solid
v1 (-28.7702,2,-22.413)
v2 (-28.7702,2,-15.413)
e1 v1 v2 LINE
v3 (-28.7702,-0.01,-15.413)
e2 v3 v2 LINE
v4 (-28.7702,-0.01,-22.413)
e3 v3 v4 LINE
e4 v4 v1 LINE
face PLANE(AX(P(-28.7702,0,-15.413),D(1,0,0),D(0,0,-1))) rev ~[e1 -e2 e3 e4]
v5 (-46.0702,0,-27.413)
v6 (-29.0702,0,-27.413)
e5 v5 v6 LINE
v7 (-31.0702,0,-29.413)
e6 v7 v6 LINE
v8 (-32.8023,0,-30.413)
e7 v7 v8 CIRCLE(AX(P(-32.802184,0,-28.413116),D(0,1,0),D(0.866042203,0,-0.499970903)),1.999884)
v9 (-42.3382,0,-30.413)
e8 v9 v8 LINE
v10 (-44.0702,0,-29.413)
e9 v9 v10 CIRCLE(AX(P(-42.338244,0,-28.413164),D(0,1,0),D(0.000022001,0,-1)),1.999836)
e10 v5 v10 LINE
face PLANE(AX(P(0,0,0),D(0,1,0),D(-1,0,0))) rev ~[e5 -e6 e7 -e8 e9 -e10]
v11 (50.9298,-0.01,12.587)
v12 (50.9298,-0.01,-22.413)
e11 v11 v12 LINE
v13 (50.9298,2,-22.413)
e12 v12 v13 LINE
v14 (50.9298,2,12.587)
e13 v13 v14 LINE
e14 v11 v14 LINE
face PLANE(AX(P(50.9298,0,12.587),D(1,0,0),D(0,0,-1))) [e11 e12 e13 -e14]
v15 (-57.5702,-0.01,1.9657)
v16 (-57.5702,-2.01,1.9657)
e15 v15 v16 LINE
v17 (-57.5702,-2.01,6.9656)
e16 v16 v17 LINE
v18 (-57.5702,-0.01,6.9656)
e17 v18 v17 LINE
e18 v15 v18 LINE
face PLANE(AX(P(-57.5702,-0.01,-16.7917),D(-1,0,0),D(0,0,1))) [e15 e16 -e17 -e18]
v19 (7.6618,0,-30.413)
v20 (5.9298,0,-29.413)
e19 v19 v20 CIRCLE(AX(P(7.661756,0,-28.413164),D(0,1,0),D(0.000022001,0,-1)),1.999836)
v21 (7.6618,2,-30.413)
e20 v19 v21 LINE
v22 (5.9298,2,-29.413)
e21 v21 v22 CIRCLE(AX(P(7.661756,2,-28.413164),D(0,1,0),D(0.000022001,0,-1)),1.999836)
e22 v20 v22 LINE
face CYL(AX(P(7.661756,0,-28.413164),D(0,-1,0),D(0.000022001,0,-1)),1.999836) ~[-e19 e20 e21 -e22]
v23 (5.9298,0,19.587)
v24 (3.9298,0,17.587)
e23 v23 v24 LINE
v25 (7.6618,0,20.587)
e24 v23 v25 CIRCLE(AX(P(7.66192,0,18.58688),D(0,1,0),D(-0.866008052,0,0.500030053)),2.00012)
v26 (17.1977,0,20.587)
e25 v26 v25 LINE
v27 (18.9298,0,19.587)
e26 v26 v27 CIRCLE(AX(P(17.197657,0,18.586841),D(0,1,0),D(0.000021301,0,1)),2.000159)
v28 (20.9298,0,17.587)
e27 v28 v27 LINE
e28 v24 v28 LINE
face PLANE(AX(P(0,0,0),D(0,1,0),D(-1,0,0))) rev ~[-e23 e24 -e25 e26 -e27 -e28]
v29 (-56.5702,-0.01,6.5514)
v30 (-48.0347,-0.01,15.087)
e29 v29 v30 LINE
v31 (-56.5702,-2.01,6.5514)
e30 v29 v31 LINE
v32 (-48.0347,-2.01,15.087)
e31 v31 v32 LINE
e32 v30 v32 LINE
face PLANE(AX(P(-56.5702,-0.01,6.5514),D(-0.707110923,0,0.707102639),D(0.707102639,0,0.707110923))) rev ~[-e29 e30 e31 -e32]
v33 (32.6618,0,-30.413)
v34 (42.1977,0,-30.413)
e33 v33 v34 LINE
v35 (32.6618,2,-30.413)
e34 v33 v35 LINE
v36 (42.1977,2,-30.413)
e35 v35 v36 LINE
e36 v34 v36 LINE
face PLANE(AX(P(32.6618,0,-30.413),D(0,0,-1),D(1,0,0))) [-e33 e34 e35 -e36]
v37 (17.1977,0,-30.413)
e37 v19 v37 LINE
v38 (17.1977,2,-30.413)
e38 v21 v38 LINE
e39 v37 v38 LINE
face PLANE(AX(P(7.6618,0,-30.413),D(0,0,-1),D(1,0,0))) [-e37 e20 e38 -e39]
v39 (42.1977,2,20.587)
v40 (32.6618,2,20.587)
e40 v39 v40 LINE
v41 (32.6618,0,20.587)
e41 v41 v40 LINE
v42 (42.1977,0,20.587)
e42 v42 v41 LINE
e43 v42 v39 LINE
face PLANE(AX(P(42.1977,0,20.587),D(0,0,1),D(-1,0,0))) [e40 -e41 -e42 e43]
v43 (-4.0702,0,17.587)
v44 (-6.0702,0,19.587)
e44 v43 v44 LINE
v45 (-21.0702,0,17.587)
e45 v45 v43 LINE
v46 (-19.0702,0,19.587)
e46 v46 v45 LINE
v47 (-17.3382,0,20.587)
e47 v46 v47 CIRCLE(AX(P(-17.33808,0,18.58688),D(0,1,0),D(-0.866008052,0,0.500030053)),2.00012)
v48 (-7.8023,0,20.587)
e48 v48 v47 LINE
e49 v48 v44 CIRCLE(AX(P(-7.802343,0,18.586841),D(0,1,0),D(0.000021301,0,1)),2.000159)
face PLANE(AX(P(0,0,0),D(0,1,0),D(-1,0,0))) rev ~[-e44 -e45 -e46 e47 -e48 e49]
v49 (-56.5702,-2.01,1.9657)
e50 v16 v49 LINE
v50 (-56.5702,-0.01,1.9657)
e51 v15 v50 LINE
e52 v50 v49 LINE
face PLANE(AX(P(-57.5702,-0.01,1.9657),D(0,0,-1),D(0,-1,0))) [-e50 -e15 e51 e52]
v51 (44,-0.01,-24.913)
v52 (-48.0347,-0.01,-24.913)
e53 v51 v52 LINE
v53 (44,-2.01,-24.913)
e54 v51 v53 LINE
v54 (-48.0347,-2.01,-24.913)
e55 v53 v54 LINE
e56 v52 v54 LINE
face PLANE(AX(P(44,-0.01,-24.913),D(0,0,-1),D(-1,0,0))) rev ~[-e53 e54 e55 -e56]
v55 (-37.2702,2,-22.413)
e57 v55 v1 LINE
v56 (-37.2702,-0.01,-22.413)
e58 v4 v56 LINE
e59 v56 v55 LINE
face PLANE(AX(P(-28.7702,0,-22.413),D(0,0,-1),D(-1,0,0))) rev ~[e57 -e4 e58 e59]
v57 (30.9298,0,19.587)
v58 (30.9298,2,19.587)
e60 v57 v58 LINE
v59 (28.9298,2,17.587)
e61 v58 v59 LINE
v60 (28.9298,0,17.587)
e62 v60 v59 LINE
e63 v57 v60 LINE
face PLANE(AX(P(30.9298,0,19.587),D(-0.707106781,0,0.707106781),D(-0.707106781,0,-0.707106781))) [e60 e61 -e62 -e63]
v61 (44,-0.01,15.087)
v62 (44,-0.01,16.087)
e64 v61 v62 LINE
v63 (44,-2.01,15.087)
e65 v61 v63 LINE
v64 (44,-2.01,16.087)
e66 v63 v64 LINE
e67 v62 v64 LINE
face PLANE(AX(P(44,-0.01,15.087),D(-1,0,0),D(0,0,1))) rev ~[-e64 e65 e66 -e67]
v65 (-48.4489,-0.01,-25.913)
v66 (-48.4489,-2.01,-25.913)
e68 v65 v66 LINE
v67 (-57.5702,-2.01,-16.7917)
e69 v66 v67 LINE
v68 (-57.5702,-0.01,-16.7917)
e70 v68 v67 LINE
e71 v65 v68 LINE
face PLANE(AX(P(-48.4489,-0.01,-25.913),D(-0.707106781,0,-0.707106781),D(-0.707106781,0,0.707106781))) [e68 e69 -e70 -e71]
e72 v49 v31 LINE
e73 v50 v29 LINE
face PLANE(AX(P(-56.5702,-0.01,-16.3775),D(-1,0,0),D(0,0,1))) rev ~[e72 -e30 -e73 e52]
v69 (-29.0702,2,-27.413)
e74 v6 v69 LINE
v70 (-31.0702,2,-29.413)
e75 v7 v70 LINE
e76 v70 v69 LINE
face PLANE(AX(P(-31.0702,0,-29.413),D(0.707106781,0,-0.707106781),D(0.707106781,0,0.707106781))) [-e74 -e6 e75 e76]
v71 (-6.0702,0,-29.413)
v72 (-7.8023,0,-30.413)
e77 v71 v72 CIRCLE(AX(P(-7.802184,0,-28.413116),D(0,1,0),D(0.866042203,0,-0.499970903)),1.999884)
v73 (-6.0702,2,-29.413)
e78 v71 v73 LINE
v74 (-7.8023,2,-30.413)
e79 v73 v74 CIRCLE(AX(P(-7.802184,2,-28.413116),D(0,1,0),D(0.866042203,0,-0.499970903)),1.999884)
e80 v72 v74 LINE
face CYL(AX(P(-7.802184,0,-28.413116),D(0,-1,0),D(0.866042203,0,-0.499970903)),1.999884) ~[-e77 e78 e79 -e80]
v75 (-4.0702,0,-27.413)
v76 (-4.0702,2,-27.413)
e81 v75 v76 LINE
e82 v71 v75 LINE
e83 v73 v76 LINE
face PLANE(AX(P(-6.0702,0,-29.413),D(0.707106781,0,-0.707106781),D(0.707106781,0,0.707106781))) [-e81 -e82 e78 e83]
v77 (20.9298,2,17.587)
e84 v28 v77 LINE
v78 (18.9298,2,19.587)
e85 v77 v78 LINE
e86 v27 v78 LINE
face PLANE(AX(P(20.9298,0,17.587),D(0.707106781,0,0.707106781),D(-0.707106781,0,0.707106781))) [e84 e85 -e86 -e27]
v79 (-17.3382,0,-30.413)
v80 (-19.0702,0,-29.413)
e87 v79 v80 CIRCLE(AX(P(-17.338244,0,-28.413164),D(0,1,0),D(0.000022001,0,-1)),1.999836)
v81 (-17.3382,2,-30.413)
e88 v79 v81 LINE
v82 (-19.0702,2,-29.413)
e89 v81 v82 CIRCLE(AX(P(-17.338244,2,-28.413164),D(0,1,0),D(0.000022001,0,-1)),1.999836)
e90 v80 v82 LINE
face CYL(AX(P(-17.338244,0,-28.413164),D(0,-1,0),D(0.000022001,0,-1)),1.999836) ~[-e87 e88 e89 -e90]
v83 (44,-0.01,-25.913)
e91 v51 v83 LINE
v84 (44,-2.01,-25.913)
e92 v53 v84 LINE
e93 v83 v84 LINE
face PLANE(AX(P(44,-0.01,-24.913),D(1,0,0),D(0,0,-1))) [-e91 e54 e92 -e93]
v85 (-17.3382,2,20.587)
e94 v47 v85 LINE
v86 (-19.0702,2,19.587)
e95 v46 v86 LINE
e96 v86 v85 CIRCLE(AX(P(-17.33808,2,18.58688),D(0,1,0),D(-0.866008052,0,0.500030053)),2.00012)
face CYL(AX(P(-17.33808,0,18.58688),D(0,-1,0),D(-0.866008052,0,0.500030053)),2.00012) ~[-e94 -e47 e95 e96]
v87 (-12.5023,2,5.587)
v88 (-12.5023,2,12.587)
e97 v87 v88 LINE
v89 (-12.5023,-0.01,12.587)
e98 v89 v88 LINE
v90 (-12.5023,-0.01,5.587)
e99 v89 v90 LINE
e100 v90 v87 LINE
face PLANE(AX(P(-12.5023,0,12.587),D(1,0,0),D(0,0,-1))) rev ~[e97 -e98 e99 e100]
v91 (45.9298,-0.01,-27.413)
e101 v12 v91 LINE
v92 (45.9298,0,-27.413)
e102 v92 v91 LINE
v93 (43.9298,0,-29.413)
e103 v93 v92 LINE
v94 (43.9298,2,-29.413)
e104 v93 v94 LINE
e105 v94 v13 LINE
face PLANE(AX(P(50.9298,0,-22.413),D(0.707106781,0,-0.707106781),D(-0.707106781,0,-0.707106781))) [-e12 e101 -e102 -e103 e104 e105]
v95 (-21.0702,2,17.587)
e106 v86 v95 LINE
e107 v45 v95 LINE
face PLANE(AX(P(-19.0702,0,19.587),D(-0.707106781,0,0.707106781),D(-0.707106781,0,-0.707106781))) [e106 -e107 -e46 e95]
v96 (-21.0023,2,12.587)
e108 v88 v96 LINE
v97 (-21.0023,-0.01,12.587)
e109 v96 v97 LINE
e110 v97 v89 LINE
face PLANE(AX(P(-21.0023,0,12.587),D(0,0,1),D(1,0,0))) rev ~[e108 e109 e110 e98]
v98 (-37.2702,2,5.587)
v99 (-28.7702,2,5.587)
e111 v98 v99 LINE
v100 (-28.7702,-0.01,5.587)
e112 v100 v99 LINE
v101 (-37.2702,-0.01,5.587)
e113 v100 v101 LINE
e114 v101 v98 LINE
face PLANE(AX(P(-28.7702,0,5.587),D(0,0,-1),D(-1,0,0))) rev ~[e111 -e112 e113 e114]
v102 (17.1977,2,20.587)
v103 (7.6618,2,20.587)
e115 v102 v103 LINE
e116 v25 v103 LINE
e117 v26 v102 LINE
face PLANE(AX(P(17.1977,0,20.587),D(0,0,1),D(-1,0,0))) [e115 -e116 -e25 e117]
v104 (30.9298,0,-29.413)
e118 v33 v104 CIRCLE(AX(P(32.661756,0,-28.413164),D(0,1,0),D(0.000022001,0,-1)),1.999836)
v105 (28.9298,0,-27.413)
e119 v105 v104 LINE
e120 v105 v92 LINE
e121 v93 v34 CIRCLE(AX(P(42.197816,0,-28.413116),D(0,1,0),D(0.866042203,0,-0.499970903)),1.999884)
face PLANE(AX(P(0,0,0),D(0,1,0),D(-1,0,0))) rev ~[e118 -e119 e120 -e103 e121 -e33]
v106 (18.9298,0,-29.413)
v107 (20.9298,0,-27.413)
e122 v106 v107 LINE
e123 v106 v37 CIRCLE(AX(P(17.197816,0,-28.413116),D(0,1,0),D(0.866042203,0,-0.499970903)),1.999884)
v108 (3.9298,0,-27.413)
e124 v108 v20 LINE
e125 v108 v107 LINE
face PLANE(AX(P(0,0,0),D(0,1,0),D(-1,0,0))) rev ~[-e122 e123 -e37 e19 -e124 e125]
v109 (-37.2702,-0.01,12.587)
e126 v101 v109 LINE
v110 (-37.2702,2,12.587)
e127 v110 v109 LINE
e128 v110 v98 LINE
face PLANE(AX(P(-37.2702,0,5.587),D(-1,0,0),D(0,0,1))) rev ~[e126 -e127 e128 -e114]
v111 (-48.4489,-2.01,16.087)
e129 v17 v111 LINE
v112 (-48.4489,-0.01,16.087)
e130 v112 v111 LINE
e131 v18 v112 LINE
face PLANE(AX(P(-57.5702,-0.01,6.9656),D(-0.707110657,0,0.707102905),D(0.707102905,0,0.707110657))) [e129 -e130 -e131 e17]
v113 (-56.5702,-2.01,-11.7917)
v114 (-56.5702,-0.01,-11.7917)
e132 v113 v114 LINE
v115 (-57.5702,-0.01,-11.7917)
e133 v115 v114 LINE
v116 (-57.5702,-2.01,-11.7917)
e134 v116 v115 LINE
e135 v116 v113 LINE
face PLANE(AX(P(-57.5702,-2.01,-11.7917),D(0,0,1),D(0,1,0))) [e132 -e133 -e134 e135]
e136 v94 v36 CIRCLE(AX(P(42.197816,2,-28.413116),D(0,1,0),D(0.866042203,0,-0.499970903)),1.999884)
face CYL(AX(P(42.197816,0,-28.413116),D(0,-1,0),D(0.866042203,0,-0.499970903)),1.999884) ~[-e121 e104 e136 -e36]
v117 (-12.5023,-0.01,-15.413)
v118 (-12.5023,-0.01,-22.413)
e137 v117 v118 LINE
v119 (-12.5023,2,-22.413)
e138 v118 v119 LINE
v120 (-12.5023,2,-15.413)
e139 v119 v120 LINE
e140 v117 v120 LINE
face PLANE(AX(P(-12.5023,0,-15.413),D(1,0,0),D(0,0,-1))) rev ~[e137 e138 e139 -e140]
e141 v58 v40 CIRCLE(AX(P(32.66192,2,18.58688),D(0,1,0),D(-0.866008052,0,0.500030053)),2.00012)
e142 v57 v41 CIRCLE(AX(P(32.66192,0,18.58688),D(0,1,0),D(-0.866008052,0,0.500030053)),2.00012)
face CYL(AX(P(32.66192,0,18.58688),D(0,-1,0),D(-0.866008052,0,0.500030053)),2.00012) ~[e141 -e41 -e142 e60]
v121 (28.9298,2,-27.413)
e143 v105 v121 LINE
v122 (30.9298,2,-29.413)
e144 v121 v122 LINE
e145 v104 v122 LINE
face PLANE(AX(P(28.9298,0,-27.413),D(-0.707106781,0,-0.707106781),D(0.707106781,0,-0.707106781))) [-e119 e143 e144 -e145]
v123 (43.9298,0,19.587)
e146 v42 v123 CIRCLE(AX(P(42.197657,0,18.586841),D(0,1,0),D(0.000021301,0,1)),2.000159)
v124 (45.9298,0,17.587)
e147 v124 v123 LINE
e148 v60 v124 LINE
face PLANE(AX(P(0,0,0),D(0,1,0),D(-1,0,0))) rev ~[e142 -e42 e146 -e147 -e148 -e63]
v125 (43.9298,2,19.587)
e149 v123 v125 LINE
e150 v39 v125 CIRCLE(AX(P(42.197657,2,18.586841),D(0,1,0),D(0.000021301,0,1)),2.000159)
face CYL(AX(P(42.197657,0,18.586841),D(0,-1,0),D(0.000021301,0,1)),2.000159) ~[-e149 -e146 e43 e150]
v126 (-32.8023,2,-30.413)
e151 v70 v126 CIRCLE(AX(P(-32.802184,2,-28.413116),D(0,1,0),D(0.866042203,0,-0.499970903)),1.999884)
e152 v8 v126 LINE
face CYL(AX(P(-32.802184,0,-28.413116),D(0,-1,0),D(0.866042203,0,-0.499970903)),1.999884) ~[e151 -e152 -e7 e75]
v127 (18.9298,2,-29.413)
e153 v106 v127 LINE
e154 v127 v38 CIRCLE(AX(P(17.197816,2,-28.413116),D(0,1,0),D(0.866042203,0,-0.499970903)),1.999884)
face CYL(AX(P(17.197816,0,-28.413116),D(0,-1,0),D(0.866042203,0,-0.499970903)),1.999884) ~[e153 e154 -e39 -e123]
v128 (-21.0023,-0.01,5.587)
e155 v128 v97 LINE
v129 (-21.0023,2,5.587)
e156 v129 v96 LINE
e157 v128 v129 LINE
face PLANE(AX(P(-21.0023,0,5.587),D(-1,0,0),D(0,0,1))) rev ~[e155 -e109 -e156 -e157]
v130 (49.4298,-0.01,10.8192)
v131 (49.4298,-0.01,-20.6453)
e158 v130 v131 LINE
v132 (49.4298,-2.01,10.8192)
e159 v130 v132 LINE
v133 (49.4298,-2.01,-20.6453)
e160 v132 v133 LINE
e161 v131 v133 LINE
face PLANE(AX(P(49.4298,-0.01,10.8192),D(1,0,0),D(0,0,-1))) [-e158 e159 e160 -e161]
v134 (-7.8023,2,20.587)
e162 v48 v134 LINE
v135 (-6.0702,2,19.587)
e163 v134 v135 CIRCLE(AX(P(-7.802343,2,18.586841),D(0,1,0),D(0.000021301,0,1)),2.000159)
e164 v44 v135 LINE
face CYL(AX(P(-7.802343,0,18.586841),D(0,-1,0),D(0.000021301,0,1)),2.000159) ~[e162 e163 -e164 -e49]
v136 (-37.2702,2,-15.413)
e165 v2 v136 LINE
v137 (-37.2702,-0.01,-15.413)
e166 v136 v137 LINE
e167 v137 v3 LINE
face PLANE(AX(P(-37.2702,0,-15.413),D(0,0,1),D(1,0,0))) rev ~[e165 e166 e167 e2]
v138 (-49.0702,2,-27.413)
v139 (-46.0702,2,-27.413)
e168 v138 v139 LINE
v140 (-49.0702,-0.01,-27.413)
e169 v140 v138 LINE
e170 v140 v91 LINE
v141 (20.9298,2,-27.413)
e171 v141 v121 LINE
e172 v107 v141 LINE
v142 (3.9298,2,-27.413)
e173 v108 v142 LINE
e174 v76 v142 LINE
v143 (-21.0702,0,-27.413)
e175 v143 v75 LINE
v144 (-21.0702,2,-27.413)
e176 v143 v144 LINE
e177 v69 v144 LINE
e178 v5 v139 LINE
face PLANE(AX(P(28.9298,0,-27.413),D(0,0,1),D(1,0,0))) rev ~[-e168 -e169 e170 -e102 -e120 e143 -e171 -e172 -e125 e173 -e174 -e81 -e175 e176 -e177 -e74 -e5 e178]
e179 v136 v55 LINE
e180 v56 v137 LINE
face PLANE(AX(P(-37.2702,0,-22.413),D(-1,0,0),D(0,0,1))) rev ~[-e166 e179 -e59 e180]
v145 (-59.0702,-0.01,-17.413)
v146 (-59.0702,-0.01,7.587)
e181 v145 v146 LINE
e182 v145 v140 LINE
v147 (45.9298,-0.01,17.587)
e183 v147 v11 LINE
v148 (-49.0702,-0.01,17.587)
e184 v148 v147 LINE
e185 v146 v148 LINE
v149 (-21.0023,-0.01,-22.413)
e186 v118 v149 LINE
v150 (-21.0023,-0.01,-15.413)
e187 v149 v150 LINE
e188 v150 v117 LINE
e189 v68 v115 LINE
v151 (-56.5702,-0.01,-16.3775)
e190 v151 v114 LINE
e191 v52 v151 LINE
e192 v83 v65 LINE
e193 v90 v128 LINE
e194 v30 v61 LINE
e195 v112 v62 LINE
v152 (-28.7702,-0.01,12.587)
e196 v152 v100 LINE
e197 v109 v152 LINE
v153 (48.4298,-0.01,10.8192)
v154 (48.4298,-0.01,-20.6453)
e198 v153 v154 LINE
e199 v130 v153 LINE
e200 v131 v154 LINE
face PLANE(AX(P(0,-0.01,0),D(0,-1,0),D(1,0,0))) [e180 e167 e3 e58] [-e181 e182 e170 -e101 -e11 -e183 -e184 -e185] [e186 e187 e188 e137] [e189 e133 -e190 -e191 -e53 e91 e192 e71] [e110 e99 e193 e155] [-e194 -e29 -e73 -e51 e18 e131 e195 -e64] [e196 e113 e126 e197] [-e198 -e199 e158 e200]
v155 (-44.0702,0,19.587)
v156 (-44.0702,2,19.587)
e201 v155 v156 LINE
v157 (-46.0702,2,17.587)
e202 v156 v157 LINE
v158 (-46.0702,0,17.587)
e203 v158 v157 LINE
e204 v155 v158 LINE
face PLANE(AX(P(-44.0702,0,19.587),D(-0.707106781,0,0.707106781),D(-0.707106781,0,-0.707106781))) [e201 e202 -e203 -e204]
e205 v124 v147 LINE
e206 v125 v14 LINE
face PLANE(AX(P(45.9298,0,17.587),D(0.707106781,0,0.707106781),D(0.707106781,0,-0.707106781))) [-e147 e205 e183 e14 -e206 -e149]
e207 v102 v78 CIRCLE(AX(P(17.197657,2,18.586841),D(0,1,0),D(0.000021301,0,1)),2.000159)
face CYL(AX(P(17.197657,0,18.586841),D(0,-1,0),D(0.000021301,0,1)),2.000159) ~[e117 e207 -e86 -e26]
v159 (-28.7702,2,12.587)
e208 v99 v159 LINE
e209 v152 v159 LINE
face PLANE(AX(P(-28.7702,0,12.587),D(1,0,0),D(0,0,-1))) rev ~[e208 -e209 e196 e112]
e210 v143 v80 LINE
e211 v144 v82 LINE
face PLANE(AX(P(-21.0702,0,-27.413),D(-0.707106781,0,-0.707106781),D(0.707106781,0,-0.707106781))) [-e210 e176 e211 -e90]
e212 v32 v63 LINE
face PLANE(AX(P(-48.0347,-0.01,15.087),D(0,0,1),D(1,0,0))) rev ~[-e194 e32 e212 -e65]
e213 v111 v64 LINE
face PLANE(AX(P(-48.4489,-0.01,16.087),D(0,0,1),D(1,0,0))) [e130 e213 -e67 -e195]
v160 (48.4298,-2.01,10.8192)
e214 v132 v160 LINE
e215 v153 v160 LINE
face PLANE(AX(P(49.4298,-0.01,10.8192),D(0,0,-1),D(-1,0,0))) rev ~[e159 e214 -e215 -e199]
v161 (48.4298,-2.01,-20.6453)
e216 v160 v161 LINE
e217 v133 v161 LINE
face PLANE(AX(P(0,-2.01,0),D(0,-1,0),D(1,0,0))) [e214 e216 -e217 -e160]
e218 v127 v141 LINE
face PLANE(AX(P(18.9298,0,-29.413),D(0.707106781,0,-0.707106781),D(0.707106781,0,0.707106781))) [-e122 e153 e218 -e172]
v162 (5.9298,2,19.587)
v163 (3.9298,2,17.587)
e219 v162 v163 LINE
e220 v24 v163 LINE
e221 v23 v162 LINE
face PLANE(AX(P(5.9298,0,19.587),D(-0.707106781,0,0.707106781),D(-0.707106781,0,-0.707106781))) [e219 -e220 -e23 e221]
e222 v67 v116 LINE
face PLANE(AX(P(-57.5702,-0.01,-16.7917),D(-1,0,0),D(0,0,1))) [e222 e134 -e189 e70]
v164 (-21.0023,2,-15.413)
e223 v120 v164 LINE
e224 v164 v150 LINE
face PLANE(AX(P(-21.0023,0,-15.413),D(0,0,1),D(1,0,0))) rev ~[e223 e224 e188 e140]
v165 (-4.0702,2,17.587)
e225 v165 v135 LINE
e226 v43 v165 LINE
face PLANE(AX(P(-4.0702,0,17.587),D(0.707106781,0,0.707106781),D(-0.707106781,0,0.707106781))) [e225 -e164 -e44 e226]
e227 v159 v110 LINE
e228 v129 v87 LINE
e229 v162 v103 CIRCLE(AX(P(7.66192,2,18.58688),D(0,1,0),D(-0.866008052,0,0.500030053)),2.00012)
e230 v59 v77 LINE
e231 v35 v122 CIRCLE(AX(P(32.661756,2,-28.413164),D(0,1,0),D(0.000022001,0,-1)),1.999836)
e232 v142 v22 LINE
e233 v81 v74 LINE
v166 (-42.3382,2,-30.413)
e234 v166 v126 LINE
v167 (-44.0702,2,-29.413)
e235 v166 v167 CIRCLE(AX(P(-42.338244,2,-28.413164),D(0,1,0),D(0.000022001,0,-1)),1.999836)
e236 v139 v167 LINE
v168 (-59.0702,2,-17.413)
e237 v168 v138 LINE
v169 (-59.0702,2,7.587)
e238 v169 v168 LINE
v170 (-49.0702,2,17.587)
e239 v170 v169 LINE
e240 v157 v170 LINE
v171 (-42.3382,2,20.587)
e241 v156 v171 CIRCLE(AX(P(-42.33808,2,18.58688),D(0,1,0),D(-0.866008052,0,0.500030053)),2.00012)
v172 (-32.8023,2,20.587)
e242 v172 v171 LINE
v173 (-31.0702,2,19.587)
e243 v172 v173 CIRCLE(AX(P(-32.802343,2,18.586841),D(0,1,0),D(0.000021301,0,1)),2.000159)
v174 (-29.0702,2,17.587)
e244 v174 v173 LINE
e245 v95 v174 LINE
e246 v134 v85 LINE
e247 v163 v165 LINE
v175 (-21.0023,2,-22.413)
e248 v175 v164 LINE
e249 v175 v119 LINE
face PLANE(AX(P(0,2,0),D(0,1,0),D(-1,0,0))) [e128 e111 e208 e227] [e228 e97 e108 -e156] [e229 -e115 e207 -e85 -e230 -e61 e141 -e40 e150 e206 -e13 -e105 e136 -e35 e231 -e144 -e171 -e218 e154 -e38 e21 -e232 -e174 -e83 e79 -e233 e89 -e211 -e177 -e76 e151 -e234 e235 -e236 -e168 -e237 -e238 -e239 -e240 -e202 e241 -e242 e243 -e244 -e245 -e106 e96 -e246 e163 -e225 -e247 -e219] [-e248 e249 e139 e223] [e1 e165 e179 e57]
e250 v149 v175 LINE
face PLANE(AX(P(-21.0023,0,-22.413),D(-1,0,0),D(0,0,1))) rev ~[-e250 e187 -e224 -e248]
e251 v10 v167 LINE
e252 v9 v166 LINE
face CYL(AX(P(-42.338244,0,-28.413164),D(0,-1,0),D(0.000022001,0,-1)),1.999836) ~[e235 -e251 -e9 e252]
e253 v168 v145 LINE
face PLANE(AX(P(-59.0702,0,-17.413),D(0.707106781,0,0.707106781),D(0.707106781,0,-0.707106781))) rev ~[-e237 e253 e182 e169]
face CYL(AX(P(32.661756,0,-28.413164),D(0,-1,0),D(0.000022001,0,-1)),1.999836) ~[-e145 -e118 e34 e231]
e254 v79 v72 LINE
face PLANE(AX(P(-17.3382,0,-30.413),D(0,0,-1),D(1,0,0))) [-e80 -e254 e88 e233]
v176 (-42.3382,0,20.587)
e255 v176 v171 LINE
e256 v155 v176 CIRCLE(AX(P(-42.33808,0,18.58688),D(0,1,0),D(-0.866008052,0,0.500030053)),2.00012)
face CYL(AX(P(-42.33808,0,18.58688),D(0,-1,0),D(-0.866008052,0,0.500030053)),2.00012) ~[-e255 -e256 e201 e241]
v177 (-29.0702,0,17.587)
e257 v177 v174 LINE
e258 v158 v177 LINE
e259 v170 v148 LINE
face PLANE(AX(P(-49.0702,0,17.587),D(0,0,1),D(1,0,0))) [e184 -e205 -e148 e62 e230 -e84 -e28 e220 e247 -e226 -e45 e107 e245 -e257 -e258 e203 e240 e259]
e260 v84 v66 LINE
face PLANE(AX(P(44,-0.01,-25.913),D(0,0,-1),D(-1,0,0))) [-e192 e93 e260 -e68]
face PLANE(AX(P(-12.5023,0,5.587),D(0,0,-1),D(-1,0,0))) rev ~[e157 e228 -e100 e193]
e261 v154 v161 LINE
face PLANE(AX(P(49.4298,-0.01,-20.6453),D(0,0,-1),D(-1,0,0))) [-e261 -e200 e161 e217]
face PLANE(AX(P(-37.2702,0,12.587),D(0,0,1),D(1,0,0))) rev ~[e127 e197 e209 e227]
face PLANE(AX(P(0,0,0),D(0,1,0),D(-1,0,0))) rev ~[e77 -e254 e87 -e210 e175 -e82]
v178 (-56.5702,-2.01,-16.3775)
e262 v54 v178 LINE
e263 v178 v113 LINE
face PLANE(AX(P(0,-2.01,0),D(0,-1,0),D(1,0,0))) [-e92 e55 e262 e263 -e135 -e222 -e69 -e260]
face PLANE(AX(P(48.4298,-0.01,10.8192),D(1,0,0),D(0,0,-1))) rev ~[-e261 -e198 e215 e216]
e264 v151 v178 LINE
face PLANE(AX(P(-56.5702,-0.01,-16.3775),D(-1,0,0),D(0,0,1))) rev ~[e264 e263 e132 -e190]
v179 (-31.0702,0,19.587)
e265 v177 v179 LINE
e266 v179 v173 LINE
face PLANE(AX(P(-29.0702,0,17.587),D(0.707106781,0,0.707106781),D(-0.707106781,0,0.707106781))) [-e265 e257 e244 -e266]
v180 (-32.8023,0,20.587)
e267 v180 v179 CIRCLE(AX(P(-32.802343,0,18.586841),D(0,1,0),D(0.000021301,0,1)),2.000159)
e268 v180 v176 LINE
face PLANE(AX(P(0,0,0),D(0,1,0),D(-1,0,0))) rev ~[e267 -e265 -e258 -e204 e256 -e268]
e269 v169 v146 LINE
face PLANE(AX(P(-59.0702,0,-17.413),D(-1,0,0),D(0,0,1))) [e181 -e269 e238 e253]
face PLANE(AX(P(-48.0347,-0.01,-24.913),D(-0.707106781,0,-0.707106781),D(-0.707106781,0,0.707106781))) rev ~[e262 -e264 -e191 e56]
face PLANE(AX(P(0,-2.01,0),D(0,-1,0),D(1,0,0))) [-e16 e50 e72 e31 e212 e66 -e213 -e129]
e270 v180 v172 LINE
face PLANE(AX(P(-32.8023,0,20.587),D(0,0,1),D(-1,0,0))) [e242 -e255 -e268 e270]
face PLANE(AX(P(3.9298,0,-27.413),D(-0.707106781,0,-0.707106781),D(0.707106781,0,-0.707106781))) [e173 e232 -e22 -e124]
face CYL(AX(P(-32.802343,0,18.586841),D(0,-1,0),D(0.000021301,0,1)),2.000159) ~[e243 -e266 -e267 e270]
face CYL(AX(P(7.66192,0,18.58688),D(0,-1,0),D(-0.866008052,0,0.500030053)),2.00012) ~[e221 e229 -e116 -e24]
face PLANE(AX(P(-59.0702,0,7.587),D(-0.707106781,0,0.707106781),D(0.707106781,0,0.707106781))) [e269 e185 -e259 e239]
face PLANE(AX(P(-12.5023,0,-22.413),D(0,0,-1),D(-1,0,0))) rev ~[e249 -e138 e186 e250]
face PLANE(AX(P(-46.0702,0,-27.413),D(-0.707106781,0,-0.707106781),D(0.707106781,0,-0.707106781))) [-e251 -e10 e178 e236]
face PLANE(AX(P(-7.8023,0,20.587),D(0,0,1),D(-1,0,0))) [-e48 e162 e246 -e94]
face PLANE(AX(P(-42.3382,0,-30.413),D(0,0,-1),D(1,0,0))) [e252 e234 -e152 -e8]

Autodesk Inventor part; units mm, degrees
ref_plane "YZ Plane" through (0, 0, 0) normal (1, 0, 0) x (0, 1, 0)
ref_plane "XZ Plane" through (0, 0, 0) normal (0, 1, 0) x (-1, 0, 0)
ref_plane "XY Plane" through (0, 0, 0) normal (0, 0, 1) x (1, 0, 0)
sketch "Sketch1" plane through (0, 0, 0) normal (0, 1, 0) x (-1, 0, 0)
  arc A0 (-42.1977, 20.587) -> (-43.9298, 19.587) centre (-42.1977, 18.587) ccw
  line L0 (-45.9298, 17.587) -> (-43.9298, 19.587)
  line L1 (-50.9298, 12.587) -> (-45.9298, 17.587)
  line L2 (-50.9298, -22.413) -> (-50.9298, 12.587)
  line L3 (-43.9298, -29.413) -> (-50.9298, -22.413)
  arc A1 (-43.9298, -29.413) -> (-42.1977, -30.413) centre (-42.1977, -28.413) ccw
  line L4 (-32.6618, -30.413) -> (-42.1977, -30.413)
  arc A2 (-32.6618, -30.413) -> (-30.9298, -29.413) centre (-32.6618, -28.413) ccw
  line L5 (-28.9298, -27.413) -> (-30.9298, -29.413)
  line L6 (-20.9298, -27.413) -> (-28.9298, -27.413)
  line L7 (-18.9298, -29.413) -> (-20.9298, -27.413)
  arc A3 (-18.9298, -29.413) -> (-17.1977, -30.413) centre (-17.1977, -28.413) ccw
  line L8 (-7.6618, -30.413) -> (-17.1977, -30.413)
  arc A4 (-7.6618, -30.413) -> (-5.9298, -29.413) centre (-7.6618, -28.413) ccw
  line L9 (-3.9298, -27.413) -> (-5.9298, -29.413)
  line L10 (4.0702, -27.413) -> (-3.9298, -27.413)
  line L11 (6.0702, -29.413) -> (4.0702, -27.413)
  arc A5 (6.0702, -29.413) -> (7.8023, -30.413) centre (7.8023, -28.413) ccw
  line L12 (17.3382, -30.413) -> (7.8023, -30.413)
  arc A6 (17.3382, -30.413) -> (19.0702, -29.413) centre (17.3382, -28.413) ccw
  line L13 (21.0702, -27.413) -> (19.0702, -29.413)
  line L14 (29.0702, -27.413) -> (21.0702, -27.413)
  line L15 (31.0702, -29.413) -> (29.0702, -27.413)
  arc A7 (31.0702, -29.413) -> (32.8023, -30.413) centre (32.8023, -28.413) ccw
  line L16 (42.3382, -30.413) -> (32.8023, -30.413)
  arc A8 (42.3382, -30.413) -> (44.0702, -29.413) centre (42.3382, -28.413) ccw
  line L17 (46.0702, -27.413) -> (44.0702, -29.413)
  line L18 (49.0702, -27.413) -> (46.0702, -27.413)
  line L19 (59.0702, -17.413) -> (49.0702, -27.413)
  line L20 (59.0702, 7.587) -> (59.0702, -17.413)
  line L21 (49.0702, 17.587) -> (59.0702, 7.587)
  line L22 (46.0702, 17.587) -> (49.0702, 17.587)
  line L23 (44.0702, 19.587) -> (46.0702, 17.587)
  arc A9 (44.0702, 19.587) -> (42.3382, 20.587) centre (42.3382, 18.587) ccw
  line L24 (32.8023, 20.587) -> (42.3382, 20.587)
  arc A10 (32.8023, 20.587) -> (31.0702, 19.587) centre (32.8023, 18.587) ccw
  line L25 (29.0702, 17.587) -> (31.0702, 19.587)
  line L26 (21.0702, 17.587) -> (29.0702, 17.587)
  line L27 (19.0702, 19.587) -> (21.0702, 17.587)
  arc A11 (19.0702, 19.587) -> (17.3382, 20.587) centre (17.3382, 18.587) ccw
  line L28 (7.8023, 20.587) -> (17.3382, 20.587)
  arc A12 (7.8023, 20.587) -> (6.0702, 19.587) centre (7.8023, 18.587) ccw
  line L29 (4.0702, 17.587) -> (6.0702, 19.587)
  line L30 (-3.9298, 17.587) -> (4.0702, 17.587)
  line L31 (-5.9298, 19.587) -> (-3.9298, 17.587)
  arc A13 (-5.9298, 19.587) -> (-7.6618, 20.587) centre (-7.6618, 18.587) ccw
  line L32 (-17.1977, 20.587) -> (-7.6618, 20.587)
  arc A14 (-17.1977, 20.587) -> (-18.9298, 19.587) centre (-17.1977, 18.587) ccw
  line L33 (-20.9298, 17.587) -> (-18.9298, 19.587)
  line L34 (-28.9298, 17.587) -> (-20.9298, 17.587)
  line L35 (-30.9298, 19.587) -> (-28.9298, 17.587)
  arc A15 (-30.9298, 19.587) -> (-32.6618, 20.587) centre (-32.6618, 18.587) ccw
  line L36 (-42.1977, 20.587) -> (-32.6618, 20.587)
  point P0 (0, 0)
  point P1 (59.0702, 17.587)
extrude "Extrusion1" add sketch "Sketch1" along normal blind 2
sketch "Sketch2" plane through (0, 2, 0) normal (0, 1, 0) x (1, 0, 0)
  line L0 (-21.0702, 27.413) -> (-29.0702, 27.413) projected
  line L1 (-28.7702, 22.413) -> (-28.7702, 15.413)
  line L2 (-21.0023, 22.413) -> (-21.0023, 15.413)
  line L3 (-28.7702, -5.587) -> (-28.7702, -12.587)
  line L4 (-21.0023, -5.587) -> (-21.0023, -12.587)
  line L5 (-37.2702, -5.587) -> (-28.7702, -5.587)
  line L6 (-21.0023, -5.587) -> (-12.5023, -5.587)
  line L7 (-12.5023, 15.413) -> (-21.0023, 15.413)
  line L8 (-28.7702, 15.413) -> (-37.2702, 15.413)
  line L9 (-37.2702, 22.413) -> (-28.7702, 22.413)
  line L10 (-21.0023, 22.413) -> (-12.5023, 22.413)
  line L11 (-12.5023, -12.587) -> (-21.0023, -12.587)
  line L12 (-28.7702, -12.587) -> (-37.2702, -12.587)
  line L13 (-37.2702, -12.587) -> (-37.2702, -5.587)
  line L14 (-37.2702, 15.413) -> (-37.2702, 22.413)
  line L15 (-12.5023, 22.413) -> (-12.5023, 15.413)
  line L16 (-12.5023, -5.587) -> (-12.5023, -12.587)
  line L17 (-29.0702, -17.587) -> (-21.0702, -17.587) projected
  line L18 (-49.0702, -17.587) -> (-46.0702, -17.587) projected
  arc A0 (42.1977, -20.587) -> (43.9298, -19.587) centre (42.1977, -18.587) ccw projected
  point P0 (0, 0)
  point P1 (-47.5702, -17.587)
  point P2 (43.1977, -20.319)
  dimension "d15" = 8.5
  dimension "d16" = 8.5
  dimension "d19" = 10.3
  dimension "d22" = 55.7
  dimension "d23" = 5
  dimension "d24" = 5
  dimension "d25" = 5
  dimension "d26" = 5
  dimension "d27" = 7
extrude "Extrusion4" cut sketch "Sketch2" against normal blind 10
sketch "Sketch4" plane through (0, 0, 0) normal (0, -1, 0) x (1, 0, 0)
  line L0 (-49.0702, 17.587) -> (-46.0702, 17.587) projected
  line L1 (28.9298, 17.587) -> (30.9298, 19.587) projected
  line L2 (-46.0702, 17.587) -> (45.9298, 17.587)
  line L3 (43.9298, 19.587) -> (50.9298, 12.587) projected
  line L4 (-44.0702, -29.413) -> (-46.0702, -27.413) projected
  line L5 (-46.0702, -27.413) -> (45.9298, -27.413)
  line L6 (50.9298, -22.413) -> (43.9298, -29.413) projected
  line L7 (-46.0702, 17.587) -> (-49.0702, 17.587)
  line L8 (-59.0702, 7.587) -> (-49.0702, 17.587) projected
  line L9 (-49.0702, 17.587) -> (-59.0702, 7.587)
  line L10 (-59.0702, -17.413) -> (-59.0702, 7.587) projected
  line L11 (-59.0702, 7.587) -> (-59.0702, -17.413)
  line L12 (-59.0702, -17.413) -> (-49.0702, -27.413)
  line L13 (-49.0702, -27.413) -> (-46.0702, -27.413)
  line L14 (45.9298, 17.587) -> (50.9298, 12.587)
  line L15 (50.9298, 12.587) -> (50.9298, -22.413) projected
  line L16 (50.9298, -22.413) -> (45.9298, -27.413)
  line L17 (50.9298, 12.587) -> (50.9298, -22.413)
  line L18 (-37.2702, -15.413) -> (-28.7702, -15.413) projected
  line L19 (-28.7702, -15.413) -> (-28.7702, -22.413) projected
  line L20 (-28.7702, -22.413) -> (-37.2702, -22.413) projected
  line L21 (-37.2702, -22.413) -> (-37.2702, -15.413) projected
  line L22 (-37.2702, 12.587) -> (-28.7702, 12.587) projected
  line L23 (-28.7702, 12.587) -> (-28.7702, 5.587) projected
  line L24 (-28.7702, 5.587) -> (-37.2702, 5.587) projected
  line L25 (-37.2702, 5.587) -> (-37.2702, 12.587) projected
  line L26 (-21.0023, -15.413) -> (-12.5023, -15.413) projected
  line L27 (-12.5023, -15.413) -> (-12.5023, -22.413) projected
  line L28 (-12.5023, -22.413) -> (-21.0023, -22.413) projected
  line L29 (-21.0023, -22.413) -> (-21.0023, -15.413) projected
  line L30 (-21.0023, 12.587) -> (-12.5023, 12.587) projected
  line L31 (-12.5023, 12.587) -> (-12.5023, 5.587) projected
  line L32 (-12.5023, 5.587) -> (-21.0023, 5.587) projected
  line L33 (-21.0023, 5.587) -> (-21.0023, 12.587) projected
  line L34 (17.1977, -30.413) -> (7.6618, -30.413) projected
  arc A0 (17.1977, -30.413) -> (18.9298, -29.413) centre (17.1977, -28.413) ccw projected
  line L35 (20.9298, -27.413) -> (18.9298, -29.413) projected
  line L36 (28.9298, -27.413) -> (20.9298, -27.413) projected
  line L37 (30.9298, -29.413) -> (28.9298, -27.413) projected
  arc A1 (30.9298, -29.413) -> (32.6618, -30.413) centre (32.6618, -28.413) ccw projected
  line L38 (42.1977, -30.413) -> (32.6618, -30.413) projected
  arc A2 (42.1977, -30.413) -> (43.9298, -29.413) centre (42.1977, -28.413) ccw projected
  line L39 (50.9298, -22.413) -> (43.9298, -29.413) projected
  line L40 (50.9298, 12.587) -> (50.9298, -22.413) projected
  line L41 (43.9298, 19.587) -> (50.9298, 12.587) projected
  arc A3 (43.9298, 19.587) -> (42.1977, 20.587) centre (42.1977, 18.587) ccw projected
  line L42 (32.6618, 20.587) -> (42.1977, 20.587) projected
  arc A4 (32.6618, 20.587) -> (30.9298, 19.587) centre (32.6618, 18.587) ccw projected
  line L43 (28.9298, 17.587) -> (30.9298, 19.587) projected
  line L44 (20.9298, 17.587) -> (28.9298, 17.587) projected
  line L45 (18.9298, 19.587) -> (20.9298, 17.587) projected
  arc A5 (18.9298, 19.587) -> (17.1977, 20.587) centre (17.1977, 18.587) ccw projected
  line L46 (7.6618, 20.587) -> (17.1977, 20.587) projected
  arc A6 (7.6618, 20.587) -> (5.9298, 19.587) centre (7.6618, 18.587) ccw projected
  line L47 (3.9298, 17.587) -> (5.9298, 19.587) projected
  line L48 (-4.0702, 17.587) -> (3.9298, 17.587) projected
  line L49 (-6.0702, 19.587) -> (-4.0702, 17.587) projected
  arc A7 (-6.0702, 19.587) -> (-7.8023, 20.587) centre (-7.8023, 18.587) ccw projected
  line L50 (-17.3382, 20.587) -> (-7.8023, 20.587) projected
  arc A8 (-17.3382, 20.587) -> (-19.0702, 19.587) centre (-17.3382, 18.587) ccw projected
  line L51 (-21.0702, 17.587) -> (-19.0702, 19.587) projected
  line L52 (-29.0702, 17.587) -> (-21.0702, 17.587) projected
  line L53 (-31.0702, 19.587) -> (-29.0702, 17.587) projected
  arc A9 (-31.0702, 19.587) -> (-32.8023, 20.587) centre (-32.8023, 18.587) ccw projected
  line L54 (-42.3382, 20.587) -> (-32.8023, 20.587) projected
  arc A10 (-42.3382, 20.587) -> (-44.0702, 19.587) centre (-42.3382, 18.587) ccw projected
  line L55 (-46.0702, 17.587) -> (-44.0702, 19.587) projected
  line L56 (-49.0702, 17.587) -> (-46.0702, 17.587) projected
  line L57 (-59.0702, 7.587) -> (-49.0702, 17.587) projected
  line L58 (-59.0702, -17.413) -> (-59.0702, 7.587) projected
  line L59 (-49.0702, -27.413) -> (-59.0702, -17.413) projected
  line L60 (-46.0702, -27.413) -> (-49.0702, -27.413) projected
  line L61 (-44.0702, -29.413) -> (-46.0702, -27.413) projected
  arc A11 (-44.0702, -29.413) -> (-42.3382, -30.413) centre (-42.3382, -28.413) ccw projected
  line L62 (-32.8023, -30.413) -> (-42.3382, -30.413) projected
  arc A12 (-32.8023, -30.413) -> (-31.0702, -29.413) centre (-32.8023, -28.413) ccw projected
  line L63 (-29.0702, -27.413) -> (-31.0702, -29.413) projected
  line L64 (-21.0702, -27.413) -> (-29.0702, -27.413) projected
  line L65 (-19.0702, -29.413) -> (-21.0702, -27.413) projected
  arc A13 (-19.0702, -29.413) -> (-17.3382, -30.413) centre (-17.3382, -28.413) ccw projected
  line L66 (-7.8023, -30.413) -> (-17.3382, -30.413) projected
  arc A14 (-7.8023, -30.413) -> (-6.0702, -29.413) centre (-7.8023, -28.413) ccw projected
  line L67 (-4.0702, -27.413) -> (-6.0702, -29.413) projected
  line L68 (3.9298, -27.413) -> (-4.0702, -27.413) projected
  line L69 (5.9298, -29.413) -> (3.9298, -27.413) projected
  arc A15 (5.9298, -29.413) -> (7.6618, -30.413) centre (7.6618, -28.413) ccw projected
  point P0 (0, 0)
extrude "Extrusion6" add sketch "Sketch4" along normal blind 0.01 contours L0 L2 L3 L15 L6 L5 L13 L12 L10 L8
sketch "Sketch5" plane through (0, -0.01, 0) normal (0, -1, 0) x (1, 0, 0)
  line L0 (50.9298, 12.587) -> (45.9298, 17.587) projected
  line L1 (45.9298, 17.587) -> (-49.0702, 17.587) projected
  line L2 (-49.0702, 17.587) -> (-59.0702, 7.587) projected
  line L3 (-59.0702, 7.587) -> (-59.0702, -17.413) projected
  line L4 (-59.0702, -17.413) -> (-49.0702, -27.413) projected
  line L5 (-49.0702, -27.413) -> (45.9298, -27.413) projected
  line L6 (45.9298, -27.413) -> (50.9298, -22.413) projected
  line L7 (50.9298, -22.413) -> (50.9298, 12.587) projected
  line L8 (-37.2702, -15.413) -> (-28.7702, -15.413) projected
  line L9 (-28.7702, -15.413) -> (-28.7702, -22.413) projected
  line L10 (-28.7702, -22.413) -> (-37.2702, -22.413) projected
  line L11 (-37.2702, -22.413) -> (-37.2702, -15.413) projected
  line L12 (-37.2702, 12.587) -> (-28.7702, 12.587) projected
  line L13 (-28.7702, 12.587) -> (-28.7702, 5.587) projected
  line L14 (-28.7702, 5.587) -> (-37.2702, 5.587) projected
  line L15 (-37.2702, 5.587) -> (-37.2702, 12.587) projected
  line L16 (-21.0023, -15.413) -> (-12.5023, -15.413) projected
  line L17 (-12.5023, -15.413) -> (-12.5023, -22.413) projected
  line L18 (-12.5023, -22.413) -> (-21.0023, -22.413) projected
  line L19 (-21.0023, -22.413) -> (-21.0023, -15.413) projected
  line L20 (-21.0023, 12.587) -> (-12.5023, 12.587) projected
  line L21 (-12.5023, 12.587) -> (-12.5023, 5.587) projected
  line L22 (-12.5023, 5.587) -> (-21.0023, 5.587) projected
  line L23 (-21.0023, 5.587) -> (-21.0023, 12.587) projected
  line L24 (44, -24.913) -> (-48.0347, -24.913)
  line L25 (-48.0347, -24.913) -> (-56.5702, -16.3775)
  line L26 (-56.5702, -16.3775) -> (-56.5702, 6.5514)
  line L27 (-56.5702, 6.5514) -> (-48.0347, 15.087)
  line L28 (-48.0347, 15.087) -> (44, 15.087)
  line L29 (48.4298, 10.8192) -> (48.4298, -20.6453)
  line L30 (-57.5702, -16.7917) -> (-57.5702, 6.9656)
  line L31 (-57.5702, 6.9656) -> (-48.4489, 16.087)
  line L32 (-48.4489, 16.087) -> (44, 16.087)
  line L33 (49.4298, 10.8192) -> (49.4298, -20.6453)
  line L34 (44, -25.913) -> (-48.4489, -25.913)
  line L35 (-48.4489, -25.913) -> (-57.5702, -16.7917)
  line L36 (44, 15.087) -> (44, 16.087)
  line L37 (44, -24.913) -> (44, -25.913)
  line L38 (49.4298, -20.6453) -> (48.4298, -20.6453)
  line L39 (49.4298, 10.8192) -> (48.4298, 10.8192)
  point P0 (0, 0)
  dimension "d34" = 2.5
  dimension "d35" = 1.5
extrude "Extrusion7" add sketch "Sketch5" along normal blind 2 contours L37 L34 L35 L30 L31 L32 L36 L28 L27 L26 L25 L24 | L39 L33 L38 L29
sketch "Sketch6" plane through (-57.5702, -0.01, -16.7917) normal (-1, 0, 0) x (0, 0, 1)
  line L0 (27.6109, -2) -> (-3.8536, -2) projected
  line L1 (5, 0) -> (18.7574, 0)
  line L2 (18.7574, 0) -> (18.7574, -2)
  line L3 (18.7574, -2) -> (5, -2)
  line L4 (5, -2) -> (5, 0)
  line L5 (0, 0) -> (0, -2) projected
  line L6 (23.7574, 0) -> (23.7574, -2) projected
  point P0 (16.7917, 0.01)
  point P1 (28.3431, -2)
  point P2 (-4.5858, -2)
  dimension "d38" = 5
  dimension "d39" = 5
extrude "Extrusion8" cut sketch "Sketch6" against normal blind 2
properties part number "RC5 Controller kryt"
